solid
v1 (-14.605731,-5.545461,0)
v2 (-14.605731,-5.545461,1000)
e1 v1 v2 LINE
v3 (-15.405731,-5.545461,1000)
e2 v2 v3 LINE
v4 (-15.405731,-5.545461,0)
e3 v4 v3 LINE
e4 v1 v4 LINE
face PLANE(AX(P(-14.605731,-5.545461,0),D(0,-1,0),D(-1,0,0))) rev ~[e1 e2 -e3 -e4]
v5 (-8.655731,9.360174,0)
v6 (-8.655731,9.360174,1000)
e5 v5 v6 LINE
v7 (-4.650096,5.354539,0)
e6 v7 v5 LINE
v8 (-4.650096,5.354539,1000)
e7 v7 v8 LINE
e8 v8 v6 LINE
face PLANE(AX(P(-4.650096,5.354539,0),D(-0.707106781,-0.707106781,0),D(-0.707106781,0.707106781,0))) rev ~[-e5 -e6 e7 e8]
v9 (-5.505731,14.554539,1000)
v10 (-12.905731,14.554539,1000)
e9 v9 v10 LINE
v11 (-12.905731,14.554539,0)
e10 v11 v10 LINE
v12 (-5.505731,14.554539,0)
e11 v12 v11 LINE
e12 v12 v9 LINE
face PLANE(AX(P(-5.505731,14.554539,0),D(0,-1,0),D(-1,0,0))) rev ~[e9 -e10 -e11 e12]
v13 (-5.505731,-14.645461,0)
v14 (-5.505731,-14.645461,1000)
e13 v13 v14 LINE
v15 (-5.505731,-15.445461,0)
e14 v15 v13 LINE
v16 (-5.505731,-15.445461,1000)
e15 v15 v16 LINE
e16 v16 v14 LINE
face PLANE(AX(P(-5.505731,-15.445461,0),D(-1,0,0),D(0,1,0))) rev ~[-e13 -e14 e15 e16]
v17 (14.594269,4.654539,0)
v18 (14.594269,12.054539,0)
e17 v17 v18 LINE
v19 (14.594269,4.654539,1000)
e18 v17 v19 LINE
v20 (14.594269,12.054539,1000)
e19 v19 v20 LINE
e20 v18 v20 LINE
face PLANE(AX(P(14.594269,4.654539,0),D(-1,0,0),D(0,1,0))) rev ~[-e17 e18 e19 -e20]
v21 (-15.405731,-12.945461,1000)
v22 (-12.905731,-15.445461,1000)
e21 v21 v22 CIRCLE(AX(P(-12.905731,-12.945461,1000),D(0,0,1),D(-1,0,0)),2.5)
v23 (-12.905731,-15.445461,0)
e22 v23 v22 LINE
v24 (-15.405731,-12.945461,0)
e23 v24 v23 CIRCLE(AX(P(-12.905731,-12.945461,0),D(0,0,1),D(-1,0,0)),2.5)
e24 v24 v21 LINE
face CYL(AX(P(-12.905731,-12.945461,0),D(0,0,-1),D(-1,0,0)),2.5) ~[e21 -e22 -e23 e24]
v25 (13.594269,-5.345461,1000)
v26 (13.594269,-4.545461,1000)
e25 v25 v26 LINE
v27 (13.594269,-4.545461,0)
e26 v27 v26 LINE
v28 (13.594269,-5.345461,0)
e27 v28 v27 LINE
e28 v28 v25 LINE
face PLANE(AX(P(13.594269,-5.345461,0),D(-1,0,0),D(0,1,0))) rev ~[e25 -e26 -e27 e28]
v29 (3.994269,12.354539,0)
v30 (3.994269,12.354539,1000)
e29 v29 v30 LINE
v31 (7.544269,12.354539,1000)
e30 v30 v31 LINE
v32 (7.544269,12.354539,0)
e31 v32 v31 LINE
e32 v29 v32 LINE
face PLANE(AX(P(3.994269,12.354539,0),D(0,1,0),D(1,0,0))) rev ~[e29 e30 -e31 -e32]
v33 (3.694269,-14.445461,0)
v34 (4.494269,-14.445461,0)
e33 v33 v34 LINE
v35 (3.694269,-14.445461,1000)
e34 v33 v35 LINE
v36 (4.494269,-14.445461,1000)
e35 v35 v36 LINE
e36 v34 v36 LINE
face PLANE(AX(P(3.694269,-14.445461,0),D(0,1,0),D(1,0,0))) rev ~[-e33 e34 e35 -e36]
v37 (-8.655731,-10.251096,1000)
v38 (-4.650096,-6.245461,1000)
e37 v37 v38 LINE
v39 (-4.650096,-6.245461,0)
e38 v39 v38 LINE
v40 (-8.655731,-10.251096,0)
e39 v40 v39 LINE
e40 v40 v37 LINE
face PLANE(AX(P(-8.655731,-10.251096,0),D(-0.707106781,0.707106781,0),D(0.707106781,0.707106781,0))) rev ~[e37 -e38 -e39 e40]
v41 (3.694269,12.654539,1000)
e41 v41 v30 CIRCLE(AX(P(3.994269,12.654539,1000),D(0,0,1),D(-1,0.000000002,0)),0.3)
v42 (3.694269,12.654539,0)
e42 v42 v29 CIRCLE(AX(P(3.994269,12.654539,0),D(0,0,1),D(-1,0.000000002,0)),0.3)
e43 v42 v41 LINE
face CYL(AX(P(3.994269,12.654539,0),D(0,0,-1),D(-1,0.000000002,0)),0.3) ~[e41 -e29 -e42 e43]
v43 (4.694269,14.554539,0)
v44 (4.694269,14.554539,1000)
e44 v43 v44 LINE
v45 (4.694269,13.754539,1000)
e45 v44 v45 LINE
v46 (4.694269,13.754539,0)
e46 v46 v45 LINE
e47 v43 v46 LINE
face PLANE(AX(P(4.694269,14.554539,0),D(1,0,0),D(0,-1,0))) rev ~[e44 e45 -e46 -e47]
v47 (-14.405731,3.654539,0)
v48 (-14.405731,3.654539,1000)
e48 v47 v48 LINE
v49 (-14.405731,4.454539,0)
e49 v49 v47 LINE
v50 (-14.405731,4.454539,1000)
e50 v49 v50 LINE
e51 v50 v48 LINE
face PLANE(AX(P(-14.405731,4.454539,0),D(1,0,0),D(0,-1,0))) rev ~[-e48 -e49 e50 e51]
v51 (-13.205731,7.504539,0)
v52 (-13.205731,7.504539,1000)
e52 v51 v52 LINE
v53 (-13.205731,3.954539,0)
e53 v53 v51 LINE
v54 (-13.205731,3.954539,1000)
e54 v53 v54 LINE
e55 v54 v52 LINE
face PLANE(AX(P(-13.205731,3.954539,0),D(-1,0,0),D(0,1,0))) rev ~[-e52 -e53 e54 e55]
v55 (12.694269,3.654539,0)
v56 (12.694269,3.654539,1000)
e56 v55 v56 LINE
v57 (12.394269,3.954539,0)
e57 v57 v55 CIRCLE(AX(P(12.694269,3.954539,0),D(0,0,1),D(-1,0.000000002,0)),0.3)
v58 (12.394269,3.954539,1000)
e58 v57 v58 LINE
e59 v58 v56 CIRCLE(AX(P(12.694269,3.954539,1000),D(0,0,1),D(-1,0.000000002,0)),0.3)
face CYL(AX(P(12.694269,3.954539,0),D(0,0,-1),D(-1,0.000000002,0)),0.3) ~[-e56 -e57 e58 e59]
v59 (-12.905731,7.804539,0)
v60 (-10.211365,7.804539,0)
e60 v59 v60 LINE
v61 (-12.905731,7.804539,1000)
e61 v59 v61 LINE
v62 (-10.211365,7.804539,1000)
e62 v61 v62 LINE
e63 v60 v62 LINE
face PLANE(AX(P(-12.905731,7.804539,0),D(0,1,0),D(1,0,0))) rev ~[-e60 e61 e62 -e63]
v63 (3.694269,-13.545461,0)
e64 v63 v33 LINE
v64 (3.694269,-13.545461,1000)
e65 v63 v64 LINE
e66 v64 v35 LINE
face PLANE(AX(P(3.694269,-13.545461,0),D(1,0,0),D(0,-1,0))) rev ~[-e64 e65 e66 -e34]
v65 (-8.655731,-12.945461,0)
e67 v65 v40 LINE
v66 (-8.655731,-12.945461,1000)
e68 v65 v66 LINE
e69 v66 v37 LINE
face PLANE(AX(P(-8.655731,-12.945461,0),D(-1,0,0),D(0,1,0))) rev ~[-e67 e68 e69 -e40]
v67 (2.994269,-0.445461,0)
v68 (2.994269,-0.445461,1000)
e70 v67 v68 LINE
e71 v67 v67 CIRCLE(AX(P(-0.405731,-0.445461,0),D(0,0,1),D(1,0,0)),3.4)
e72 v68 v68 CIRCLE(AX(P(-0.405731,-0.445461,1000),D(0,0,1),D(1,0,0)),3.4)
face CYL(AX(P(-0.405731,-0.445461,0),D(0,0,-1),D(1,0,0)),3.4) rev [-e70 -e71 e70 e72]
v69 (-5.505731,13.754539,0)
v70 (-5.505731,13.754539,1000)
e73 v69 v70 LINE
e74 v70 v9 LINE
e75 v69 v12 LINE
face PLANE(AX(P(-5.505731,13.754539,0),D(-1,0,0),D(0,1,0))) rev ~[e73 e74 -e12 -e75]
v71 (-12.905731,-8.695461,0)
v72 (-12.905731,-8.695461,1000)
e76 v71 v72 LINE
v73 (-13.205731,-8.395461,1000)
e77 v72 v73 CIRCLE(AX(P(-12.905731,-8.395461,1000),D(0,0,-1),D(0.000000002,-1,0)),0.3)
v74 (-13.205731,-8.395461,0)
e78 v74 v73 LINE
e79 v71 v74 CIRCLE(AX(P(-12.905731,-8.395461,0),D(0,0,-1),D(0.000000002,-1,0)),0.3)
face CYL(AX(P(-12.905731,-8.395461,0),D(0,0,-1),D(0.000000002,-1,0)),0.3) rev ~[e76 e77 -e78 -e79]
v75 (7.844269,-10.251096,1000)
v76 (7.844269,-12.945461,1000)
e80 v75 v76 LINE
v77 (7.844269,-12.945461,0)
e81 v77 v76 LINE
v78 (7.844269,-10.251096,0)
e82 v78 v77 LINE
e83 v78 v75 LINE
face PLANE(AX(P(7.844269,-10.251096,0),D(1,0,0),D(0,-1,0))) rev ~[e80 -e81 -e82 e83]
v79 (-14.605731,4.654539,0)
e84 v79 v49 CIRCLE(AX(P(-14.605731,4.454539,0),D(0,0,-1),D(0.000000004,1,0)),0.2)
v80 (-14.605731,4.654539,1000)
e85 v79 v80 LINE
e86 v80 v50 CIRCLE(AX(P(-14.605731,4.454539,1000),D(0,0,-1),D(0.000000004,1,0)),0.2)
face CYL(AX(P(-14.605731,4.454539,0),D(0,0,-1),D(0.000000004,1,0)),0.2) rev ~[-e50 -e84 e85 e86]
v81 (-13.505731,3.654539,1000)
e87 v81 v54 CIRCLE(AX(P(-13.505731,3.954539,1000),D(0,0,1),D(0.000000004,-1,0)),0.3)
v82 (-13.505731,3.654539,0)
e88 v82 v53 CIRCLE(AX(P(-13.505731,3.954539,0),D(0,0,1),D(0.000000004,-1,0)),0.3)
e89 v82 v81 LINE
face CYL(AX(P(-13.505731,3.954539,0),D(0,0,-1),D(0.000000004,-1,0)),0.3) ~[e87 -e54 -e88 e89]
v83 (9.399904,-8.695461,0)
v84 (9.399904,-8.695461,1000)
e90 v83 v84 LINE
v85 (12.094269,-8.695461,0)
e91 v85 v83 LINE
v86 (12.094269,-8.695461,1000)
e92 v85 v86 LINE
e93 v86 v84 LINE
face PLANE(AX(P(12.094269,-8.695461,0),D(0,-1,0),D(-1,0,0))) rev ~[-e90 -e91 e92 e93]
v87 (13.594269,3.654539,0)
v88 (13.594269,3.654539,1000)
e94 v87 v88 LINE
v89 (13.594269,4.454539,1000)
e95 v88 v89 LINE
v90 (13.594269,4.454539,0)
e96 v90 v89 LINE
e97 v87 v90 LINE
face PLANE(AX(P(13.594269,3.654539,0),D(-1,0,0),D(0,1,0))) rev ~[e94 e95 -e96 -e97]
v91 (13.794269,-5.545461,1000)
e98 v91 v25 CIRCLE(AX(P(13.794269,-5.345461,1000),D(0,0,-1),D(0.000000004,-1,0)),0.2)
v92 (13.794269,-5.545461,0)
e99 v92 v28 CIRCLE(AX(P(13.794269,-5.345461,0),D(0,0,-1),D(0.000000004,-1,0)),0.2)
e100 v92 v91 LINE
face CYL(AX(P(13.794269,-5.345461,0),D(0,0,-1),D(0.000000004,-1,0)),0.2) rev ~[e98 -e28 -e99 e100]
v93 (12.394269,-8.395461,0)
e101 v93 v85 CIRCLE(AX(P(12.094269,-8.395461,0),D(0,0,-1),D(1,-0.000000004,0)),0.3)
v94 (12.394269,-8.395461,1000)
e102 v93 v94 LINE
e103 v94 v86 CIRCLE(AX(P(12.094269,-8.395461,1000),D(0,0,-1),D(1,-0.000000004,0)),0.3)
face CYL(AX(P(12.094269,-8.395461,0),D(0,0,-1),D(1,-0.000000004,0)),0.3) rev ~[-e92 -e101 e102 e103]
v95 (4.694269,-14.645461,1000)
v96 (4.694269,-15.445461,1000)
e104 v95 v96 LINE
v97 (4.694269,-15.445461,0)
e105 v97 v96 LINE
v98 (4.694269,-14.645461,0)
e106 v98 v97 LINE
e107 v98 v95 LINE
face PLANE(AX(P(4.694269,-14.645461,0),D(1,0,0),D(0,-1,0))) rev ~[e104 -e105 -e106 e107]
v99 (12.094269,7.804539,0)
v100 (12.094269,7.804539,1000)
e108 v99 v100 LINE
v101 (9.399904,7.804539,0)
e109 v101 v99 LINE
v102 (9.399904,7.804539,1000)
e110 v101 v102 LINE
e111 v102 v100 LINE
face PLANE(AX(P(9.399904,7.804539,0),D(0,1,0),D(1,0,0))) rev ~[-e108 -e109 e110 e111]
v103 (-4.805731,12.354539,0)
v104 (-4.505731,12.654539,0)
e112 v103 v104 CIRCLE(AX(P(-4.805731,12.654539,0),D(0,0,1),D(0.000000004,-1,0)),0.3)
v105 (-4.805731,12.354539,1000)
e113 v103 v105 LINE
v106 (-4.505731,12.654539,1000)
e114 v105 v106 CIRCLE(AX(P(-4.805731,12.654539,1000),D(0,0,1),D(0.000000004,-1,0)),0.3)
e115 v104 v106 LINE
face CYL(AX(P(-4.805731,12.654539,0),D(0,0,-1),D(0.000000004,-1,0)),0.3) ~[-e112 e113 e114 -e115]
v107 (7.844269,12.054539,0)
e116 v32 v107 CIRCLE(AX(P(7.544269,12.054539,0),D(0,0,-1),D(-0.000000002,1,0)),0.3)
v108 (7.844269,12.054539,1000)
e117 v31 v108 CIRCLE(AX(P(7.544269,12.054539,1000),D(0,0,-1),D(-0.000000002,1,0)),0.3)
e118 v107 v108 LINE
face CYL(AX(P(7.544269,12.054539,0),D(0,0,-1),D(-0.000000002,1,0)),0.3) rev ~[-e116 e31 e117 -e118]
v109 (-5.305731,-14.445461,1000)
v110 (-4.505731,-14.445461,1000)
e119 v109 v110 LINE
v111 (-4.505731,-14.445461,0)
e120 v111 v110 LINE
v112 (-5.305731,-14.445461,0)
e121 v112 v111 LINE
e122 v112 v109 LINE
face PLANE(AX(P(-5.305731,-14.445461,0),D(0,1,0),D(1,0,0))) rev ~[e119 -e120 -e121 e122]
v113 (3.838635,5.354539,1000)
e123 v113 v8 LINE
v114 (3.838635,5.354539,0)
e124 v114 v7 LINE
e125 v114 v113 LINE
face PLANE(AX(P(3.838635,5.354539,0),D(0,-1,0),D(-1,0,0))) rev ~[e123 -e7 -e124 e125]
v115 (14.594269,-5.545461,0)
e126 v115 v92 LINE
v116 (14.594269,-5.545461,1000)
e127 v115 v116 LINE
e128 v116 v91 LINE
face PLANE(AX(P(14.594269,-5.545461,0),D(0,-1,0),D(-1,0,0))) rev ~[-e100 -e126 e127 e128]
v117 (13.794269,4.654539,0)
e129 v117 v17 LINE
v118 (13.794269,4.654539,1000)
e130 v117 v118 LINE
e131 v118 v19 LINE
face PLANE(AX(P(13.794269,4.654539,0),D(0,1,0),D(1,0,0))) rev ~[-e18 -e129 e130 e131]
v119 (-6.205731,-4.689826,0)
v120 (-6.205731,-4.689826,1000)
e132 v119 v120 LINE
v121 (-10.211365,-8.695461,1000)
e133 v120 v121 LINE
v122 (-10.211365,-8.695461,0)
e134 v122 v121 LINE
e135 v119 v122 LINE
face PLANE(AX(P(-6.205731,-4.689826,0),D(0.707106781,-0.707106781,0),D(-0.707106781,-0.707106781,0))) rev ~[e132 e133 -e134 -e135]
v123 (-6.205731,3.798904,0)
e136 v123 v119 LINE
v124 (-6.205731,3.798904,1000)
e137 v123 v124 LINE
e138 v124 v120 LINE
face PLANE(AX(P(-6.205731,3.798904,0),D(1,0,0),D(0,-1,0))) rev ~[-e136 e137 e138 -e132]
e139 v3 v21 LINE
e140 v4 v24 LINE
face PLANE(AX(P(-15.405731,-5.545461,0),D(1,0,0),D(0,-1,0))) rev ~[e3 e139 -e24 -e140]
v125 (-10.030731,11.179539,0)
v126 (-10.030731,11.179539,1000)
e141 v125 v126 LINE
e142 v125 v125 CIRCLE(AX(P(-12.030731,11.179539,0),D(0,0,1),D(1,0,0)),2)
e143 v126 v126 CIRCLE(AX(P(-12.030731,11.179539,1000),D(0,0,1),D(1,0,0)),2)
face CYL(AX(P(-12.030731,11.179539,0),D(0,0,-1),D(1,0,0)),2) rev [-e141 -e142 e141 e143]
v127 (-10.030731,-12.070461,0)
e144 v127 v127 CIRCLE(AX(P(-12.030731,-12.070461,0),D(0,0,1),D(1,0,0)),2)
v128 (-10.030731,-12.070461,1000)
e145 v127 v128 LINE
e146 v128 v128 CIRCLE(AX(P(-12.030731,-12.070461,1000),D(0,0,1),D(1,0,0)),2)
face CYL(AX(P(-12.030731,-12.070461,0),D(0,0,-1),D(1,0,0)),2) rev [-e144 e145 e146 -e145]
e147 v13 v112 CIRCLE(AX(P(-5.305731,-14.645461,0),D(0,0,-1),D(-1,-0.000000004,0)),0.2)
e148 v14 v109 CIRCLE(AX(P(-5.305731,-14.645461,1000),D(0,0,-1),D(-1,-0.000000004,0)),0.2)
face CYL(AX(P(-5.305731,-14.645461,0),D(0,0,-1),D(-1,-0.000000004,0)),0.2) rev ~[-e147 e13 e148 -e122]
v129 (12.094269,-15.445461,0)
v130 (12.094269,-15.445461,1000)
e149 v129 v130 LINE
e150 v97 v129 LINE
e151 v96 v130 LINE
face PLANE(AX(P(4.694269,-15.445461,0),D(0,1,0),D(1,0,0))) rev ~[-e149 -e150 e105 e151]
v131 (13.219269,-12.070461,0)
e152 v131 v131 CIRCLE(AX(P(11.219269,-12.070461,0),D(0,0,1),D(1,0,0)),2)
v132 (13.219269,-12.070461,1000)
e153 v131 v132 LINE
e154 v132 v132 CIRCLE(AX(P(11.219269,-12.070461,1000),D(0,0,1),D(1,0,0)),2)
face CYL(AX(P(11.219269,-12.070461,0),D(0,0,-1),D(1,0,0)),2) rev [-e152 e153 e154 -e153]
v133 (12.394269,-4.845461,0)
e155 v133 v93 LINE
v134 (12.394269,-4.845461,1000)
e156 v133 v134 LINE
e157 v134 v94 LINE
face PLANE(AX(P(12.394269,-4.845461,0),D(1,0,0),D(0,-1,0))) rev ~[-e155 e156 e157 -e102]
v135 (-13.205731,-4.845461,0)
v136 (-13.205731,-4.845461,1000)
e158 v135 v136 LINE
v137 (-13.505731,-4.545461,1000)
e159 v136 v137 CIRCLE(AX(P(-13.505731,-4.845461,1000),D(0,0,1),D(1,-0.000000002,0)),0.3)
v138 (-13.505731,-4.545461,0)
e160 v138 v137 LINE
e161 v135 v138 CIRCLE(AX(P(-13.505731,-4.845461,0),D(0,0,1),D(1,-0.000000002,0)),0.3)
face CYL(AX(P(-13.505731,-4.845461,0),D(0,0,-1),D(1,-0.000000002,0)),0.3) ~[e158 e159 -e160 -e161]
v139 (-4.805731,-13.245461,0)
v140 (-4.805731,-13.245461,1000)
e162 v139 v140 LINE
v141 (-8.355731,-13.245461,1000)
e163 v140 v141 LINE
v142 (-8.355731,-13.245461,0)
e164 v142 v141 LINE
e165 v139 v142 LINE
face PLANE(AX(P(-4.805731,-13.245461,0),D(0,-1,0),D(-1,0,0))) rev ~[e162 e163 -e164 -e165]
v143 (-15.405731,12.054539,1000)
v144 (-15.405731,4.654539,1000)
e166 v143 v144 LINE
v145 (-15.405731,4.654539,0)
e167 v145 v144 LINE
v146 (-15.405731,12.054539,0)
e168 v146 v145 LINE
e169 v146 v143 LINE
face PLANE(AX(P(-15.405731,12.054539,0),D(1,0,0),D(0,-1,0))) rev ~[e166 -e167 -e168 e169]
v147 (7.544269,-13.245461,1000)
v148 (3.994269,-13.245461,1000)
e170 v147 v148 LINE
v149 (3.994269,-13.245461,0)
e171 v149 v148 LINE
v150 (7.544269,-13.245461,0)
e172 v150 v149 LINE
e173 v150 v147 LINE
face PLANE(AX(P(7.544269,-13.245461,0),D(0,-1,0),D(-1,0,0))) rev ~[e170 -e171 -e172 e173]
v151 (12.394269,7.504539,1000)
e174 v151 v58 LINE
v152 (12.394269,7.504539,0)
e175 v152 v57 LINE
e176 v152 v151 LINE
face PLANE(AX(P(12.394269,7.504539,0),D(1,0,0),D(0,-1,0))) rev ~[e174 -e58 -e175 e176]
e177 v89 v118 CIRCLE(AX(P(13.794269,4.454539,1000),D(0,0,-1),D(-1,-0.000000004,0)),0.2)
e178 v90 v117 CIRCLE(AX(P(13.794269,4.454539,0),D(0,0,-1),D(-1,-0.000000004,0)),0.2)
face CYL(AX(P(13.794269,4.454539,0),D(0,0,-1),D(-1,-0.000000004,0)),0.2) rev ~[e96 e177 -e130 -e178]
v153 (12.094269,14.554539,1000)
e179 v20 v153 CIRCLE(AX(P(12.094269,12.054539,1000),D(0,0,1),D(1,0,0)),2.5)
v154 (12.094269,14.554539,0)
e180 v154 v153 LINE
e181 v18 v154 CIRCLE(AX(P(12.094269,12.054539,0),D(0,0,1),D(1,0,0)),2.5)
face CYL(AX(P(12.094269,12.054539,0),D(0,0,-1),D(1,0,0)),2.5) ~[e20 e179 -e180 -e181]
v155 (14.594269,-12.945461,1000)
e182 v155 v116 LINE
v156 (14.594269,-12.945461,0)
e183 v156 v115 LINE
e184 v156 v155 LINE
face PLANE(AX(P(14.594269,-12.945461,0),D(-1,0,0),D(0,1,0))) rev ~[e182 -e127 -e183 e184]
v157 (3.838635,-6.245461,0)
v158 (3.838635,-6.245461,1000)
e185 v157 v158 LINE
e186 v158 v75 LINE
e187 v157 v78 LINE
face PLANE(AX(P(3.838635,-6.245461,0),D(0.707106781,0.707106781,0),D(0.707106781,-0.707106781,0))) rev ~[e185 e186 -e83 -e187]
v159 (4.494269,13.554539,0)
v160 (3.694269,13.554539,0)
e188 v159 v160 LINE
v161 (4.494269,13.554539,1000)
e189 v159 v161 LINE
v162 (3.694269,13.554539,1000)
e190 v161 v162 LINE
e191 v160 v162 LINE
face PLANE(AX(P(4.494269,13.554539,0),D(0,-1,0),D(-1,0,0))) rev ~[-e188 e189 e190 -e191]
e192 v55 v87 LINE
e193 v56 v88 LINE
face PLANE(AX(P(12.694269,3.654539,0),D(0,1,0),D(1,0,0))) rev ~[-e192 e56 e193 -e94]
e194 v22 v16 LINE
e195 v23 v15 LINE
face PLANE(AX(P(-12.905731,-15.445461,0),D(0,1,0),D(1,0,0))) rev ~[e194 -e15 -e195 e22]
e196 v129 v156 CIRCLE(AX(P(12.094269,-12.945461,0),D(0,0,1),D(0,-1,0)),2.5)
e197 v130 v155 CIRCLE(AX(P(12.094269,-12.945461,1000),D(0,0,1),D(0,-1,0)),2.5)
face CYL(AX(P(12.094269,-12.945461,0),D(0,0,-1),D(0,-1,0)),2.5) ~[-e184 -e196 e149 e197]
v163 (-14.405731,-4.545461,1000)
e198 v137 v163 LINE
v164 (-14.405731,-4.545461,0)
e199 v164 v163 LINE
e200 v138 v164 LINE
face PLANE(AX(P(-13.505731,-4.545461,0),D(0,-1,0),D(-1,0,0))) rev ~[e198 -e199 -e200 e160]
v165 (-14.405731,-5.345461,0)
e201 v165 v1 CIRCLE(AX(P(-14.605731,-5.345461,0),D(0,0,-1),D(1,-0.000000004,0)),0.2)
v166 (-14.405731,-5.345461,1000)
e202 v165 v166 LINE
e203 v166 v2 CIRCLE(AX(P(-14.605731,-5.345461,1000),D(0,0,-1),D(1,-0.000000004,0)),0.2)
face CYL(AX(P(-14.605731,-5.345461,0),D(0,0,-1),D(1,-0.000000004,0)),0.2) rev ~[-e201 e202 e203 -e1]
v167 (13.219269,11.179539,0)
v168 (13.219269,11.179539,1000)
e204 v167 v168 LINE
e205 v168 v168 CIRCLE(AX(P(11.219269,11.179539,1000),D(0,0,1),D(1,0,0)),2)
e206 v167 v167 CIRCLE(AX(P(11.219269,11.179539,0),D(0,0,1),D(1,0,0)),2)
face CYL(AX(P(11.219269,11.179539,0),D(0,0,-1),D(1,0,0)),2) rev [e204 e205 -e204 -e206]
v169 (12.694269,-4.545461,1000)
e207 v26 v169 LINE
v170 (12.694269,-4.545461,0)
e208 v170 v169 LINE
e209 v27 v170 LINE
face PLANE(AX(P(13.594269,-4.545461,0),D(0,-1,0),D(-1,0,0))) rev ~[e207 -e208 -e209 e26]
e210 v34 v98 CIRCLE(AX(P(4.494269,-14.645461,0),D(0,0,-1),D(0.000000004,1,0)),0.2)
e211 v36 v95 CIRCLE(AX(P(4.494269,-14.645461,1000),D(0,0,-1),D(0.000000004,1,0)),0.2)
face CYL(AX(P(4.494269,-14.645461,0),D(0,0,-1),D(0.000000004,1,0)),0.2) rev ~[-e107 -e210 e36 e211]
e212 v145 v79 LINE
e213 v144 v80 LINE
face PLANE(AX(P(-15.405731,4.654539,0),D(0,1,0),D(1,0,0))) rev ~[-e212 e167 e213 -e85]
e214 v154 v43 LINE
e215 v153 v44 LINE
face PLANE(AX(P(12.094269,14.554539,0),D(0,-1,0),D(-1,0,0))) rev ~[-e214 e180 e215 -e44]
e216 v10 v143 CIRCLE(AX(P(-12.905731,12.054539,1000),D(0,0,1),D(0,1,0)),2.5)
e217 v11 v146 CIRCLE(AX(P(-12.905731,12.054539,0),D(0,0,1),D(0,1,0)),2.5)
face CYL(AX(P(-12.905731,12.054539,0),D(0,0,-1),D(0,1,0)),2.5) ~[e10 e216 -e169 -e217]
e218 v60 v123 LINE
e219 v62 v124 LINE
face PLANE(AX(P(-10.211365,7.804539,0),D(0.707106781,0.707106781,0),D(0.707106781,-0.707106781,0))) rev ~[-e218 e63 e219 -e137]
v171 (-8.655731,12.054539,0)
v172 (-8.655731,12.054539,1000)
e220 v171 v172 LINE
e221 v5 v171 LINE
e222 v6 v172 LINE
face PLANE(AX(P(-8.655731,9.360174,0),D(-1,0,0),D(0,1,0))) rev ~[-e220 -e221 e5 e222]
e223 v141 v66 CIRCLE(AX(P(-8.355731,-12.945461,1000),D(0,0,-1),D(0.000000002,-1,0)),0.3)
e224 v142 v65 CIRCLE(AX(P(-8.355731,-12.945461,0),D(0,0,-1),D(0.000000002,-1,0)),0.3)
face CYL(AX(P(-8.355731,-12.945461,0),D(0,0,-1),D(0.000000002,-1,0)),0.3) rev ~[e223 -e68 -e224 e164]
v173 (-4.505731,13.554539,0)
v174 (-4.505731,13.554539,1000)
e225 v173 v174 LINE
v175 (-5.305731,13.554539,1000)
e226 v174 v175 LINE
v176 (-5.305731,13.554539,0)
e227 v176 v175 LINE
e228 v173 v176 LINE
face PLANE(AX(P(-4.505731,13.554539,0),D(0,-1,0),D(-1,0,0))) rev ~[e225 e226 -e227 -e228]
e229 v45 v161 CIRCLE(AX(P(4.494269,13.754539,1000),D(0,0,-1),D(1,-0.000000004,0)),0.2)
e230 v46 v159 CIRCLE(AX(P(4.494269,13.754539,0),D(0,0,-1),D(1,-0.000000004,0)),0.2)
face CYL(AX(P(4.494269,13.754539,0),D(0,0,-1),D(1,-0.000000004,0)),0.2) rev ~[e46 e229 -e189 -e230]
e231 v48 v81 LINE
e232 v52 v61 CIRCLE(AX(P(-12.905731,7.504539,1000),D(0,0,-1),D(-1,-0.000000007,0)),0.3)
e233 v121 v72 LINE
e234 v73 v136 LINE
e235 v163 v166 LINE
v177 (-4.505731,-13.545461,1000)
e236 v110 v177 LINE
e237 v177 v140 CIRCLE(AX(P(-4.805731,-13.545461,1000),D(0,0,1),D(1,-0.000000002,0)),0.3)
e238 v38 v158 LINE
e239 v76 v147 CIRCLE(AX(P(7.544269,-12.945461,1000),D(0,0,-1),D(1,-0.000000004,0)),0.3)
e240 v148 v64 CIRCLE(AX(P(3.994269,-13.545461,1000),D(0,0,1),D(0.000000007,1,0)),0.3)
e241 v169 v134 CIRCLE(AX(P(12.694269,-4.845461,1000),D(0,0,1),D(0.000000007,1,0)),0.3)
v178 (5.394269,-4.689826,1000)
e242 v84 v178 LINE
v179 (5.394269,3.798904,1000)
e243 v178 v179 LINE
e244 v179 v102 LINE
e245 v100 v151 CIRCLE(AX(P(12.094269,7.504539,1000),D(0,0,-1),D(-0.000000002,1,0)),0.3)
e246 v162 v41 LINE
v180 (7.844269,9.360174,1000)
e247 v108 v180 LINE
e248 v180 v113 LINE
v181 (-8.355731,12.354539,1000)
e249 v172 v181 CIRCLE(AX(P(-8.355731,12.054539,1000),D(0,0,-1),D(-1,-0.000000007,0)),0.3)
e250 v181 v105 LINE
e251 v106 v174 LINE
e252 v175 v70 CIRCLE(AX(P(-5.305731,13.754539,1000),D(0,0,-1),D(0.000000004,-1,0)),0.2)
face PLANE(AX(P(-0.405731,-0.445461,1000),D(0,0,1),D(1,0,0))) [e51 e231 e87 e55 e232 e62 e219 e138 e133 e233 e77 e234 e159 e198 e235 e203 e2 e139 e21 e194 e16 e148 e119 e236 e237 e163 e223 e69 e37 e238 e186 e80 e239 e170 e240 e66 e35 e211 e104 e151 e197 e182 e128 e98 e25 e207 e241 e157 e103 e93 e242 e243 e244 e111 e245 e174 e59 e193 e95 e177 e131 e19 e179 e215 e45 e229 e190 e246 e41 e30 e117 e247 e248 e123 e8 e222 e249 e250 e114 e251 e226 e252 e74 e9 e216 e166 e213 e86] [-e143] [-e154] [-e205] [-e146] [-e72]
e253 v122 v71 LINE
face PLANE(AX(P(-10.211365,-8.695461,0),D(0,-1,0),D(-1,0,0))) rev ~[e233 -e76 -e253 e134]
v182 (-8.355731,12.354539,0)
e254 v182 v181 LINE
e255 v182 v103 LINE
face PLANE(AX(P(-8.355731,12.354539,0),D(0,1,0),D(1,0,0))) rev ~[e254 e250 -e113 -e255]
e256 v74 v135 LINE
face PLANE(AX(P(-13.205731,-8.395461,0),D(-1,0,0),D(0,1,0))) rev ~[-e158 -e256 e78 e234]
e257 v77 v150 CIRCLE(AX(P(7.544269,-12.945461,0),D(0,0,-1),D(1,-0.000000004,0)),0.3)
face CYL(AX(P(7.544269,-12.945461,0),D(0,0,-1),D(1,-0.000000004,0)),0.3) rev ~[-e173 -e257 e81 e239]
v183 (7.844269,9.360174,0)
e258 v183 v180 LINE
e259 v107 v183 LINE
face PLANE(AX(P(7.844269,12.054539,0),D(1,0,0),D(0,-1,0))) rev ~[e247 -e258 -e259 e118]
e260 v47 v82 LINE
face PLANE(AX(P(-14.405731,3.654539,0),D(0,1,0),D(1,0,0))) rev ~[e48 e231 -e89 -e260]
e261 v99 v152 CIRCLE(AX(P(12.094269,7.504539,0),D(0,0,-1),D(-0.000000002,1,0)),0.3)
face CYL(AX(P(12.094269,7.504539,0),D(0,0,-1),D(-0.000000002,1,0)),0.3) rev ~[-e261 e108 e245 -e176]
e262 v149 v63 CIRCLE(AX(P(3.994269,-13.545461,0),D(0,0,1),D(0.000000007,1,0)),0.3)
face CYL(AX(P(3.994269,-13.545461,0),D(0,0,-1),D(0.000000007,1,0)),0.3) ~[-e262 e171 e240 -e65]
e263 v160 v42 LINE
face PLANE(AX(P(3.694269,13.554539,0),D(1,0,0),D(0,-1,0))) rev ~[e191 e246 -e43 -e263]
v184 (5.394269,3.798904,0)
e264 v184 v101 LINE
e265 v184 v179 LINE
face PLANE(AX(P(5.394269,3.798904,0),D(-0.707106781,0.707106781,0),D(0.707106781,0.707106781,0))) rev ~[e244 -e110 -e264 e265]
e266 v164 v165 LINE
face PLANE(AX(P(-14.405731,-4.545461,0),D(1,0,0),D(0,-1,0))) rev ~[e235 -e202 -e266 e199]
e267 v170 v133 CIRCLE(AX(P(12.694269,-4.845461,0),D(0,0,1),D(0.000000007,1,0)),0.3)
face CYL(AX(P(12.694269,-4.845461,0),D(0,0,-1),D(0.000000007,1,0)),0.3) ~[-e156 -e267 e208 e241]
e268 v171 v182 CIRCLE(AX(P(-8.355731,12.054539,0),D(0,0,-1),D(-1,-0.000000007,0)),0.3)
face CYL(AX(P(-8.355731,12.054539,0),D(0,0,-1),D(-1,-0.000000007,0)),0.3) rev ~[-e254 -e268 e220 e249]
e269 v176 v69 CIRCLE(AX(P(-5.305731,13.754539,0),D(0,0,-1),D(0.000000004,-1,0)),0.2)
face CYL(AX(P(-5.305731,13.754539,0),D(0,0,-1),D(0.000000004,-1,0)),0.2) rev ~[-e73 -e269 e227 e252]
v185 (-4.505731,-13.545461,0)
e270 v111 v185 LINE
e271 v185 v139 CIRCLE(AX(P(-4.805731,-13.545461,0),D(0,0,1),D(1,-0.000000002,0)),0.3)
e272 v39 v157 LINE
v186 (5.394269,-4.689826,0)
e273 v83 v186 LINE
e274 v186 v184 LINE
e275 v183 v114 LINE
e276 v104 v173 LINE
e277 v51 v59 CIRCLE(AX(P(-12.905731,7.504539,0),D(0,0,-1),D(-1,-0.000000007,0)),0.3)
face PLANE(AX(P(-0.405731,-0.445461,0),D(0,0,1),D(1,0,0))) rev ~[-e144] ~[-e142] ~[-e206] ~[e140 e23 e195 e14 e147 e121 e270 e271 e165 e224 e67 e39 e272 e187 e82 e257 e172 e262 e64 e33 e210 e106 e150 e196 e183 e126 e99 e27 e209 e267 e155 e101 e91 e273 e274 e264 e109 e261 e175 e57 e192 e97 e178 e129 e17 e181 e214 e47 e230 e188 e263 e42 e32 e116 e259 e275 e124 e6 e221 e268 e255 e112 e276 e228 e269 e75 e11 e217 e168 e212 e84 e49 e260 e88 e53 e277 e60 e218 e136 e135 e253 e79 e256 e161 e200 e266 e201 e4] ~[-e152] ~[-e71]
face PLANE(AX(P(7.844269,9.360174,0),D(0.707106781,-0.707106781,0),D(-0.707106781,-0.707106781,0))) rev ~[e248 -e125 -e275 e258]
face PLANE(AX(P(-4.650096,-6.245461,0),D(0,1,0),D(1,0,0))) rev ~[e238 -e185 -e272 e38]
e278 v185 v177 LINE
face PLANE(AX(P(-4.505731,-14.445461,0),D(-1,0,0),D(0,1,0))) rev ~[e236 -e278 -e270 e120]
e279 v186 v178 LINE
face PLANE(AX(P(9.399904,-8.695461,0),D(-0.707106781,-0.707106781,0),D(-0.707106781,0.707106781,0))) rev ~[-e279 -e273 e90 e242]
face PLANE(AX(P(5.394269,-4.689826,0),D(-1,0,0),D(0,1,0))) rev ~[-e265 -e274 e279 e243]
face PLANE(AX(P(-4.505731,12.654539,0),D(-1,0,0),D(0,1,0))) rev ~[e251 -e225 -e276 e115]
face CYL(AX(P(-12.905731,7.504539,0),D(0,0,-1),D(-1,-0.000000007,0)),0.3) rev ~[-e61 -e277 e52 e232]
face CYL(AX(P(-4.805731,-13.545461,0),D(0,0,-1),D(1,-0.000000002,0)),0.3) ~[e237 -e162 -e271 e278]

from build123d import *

# Parameters (mm, degrees)
SKETCH_1_R      = 3.4
SKETCH_1_R_2    = 2
EXTRUDE_1_DEPTH = 1000


with BuildPart() as part:
    # 草图1 → 凸台-拉伸1 (new body)
    with BuildSketch(Plane.XY):
        with BuildLine():
            Line((5.39426949, 3.798904284), (9.399904408, 7.804539202))
            Line((9.399904408, 7.804539202), (12.09426949, 7.804539202))
            ThreePointArc((12.09426949, 7.804539202), (12.306401524, 7.716671237), (12.39426949, 7.504539202))
            Line((12.39426949, 7.504539202), (12.39426949, 3.954539202))
            ThreePointArc((12.39426949, 3.954539202), (12.482137455, 3.742407168), (12.69426949, 3.654539202))
            Line((12.69426949, 3.654539202), (13.59426949, 3.654539202))
            Line((13.59426949, 3.654539202), (13.59426949, 4.454539202))
            ThreePointArc((13.59426949, 4.454539202), (13.652848133, 4.595960558), (13.79426949, 4.654539202))
            Line((13.79426949, 4.654539202), (14.59426949, 4.654539202))
            Line((14.59426949, 4.654539202), (14.59426949, 12.054539202))
            ThreePointArc((14.59426949, 12.054539202), (13.862036443, 13.822306155), (12.09426949, 14.554539202))
            Line((12.09426949, 14.554539202), (4.69426949, 14.554539202))
            Line((4.69426949, 14.554539202), (4.69426949, 13.754539202))
            ThreePointArc((4.69426949, 13.754539202), (4.635690846, 13.613117846), (4.49426949, 13.554539202))
            Line((4.49426949, 13.554539202), (3.69426949, 13.554539202))
            Line((3.69426949, 13.554539202), (3.69426949, 12.654539202))
            ThreePointArc((3.69426949, 12.654539202), (3.782137455, 12.442407168), (3.99426949, 12.354539202))
            Line((3.99426949, 12.354539202), (7.54426949, 12.354539202))
            ThreePointArc((7.54426949, 12.354539202), (7.756401524, 12.266671237), (7.84426949, 12.054539202))
            Line((7.84426949, 12.054539202), (7.84426949, 9.360174121))
            Line((7.84426949, 9.360174121), (3.838634571, 5.354539202))
            Line((3.838634571, 5.354539202), (-4.650095592, 5.354539202))
            Line((-4.650095592, 5.354539202), (-8.65573051, 9.360174121))
            Line((-8.65573051, 9.360174121), (-8.65573051, 12.054539202))
            ThreePointArc((-8.65573051, 12.054539202), (-8.567862545, 12.266671237), (-8.35573051, 12.354539202))
            Line((-8.35573051, 12.354539202), (-4.80573051, 12.354539202))
            ThreePointArc((-4.80573051, 12.354539202), (-4.593598476, 12.442407168), (-4.50573051, 12.654539202))
            Line((-4.50573051, 12.654539202), (-4.50573051, 13.554539202))
            Line((-4.50573051, 13.554539202), (-5.30573051, 13.554539202))
            ThreePointArc((-5.30573051, 13.554539202), (-5.447151867, 13.613117846), (-5.50573051, 13.754539202))
            Line((-5.50573051, 13.754539202), (-5.50573051, 14.554539202))
            Line((-5.50573051, 14.554539202), (-12.90573051, 14.554539202))
            ThreePointArc((-12.90573051, 14.554539202), (-14.673497463, 13.822306155), (-15.40573051, 12.054539202))
            Line((-15.40573051, 12.054539202), (-15.40573051, 4.654539202))
            Line((-15.40573051, 4.654539202), (-14.60573051, 4.654539202))
            ThreePointArc((-14.60573051, 4.654539202), (-14.464309154, 4.595960558), (-14.40573051, 4.454539202))
            Line((-14.40573051, 4.454539202), (-14.40573051, 3.654539202))
            Line((-14.40573051, 3.654539202), (-13.50573051, 3.654539202))
            ThreePointArc((-13.50573051, 3.654539202), (-13.293598476, 3.742407168), (-13.20573051, 3.954539202))
            Line((-13.20573051, 3.954539202), (-13.20573051, 7.504539202))
            ThreePointArc((-13.20573051, 7.504539202), (-13.117862545, 7.716671237), (-12.90573051, 7.804539202))
            Line((-12.90573051, 7.804539202), (-10.211365429, 7.804539202))
            Line((-10.211365429, 7.804539202), (-6.20573051, 3.798904284))
            Line((-6.20573051, 3.798904284), (-6.20573051, -4.689825879))
            Line((-6.20573051, -4.689825879), (-10.211365429, -8.695460798))
            Line((-10.211365429, -8.695460798), (-12.90573051, -8.695460798))
            ThreePointArc((-12.90573051, -8.695460798), (-13.117862545, -8.607592832), (-13.20573051, -8.395460798))
            Line((-13.20573051, -8.395460798), (-13.20573051, -4.845460798))
            ThreePointArc((-13.20573051, -4.845460798), (-13.293598476, -4.633328763), (-13.50573051, -4.545460798))
            Line((-13.50573051, -4.545460798), (-14.40573051, -4.545460798))
            Line((-14.40573051, -4.545460798), (-14.40573051, -5.345460798))
            ThreePointArc((-14.40573051, -5.345460798), (-14.464309154, -5.486882154), (-14.60573051, -5.545460798))
            Line((-14.60573051, -5.545460798), (-15.40573051, -5.545460798))
            Line((-15.40573051, -5.545460798), (-15.40573051, -12.945460798))
            ThreePointArc((-15.40573051, -12.945460798), (-14.673497463, -14.713227751), (-12.90573051, -15.445460798))
            Line((-12.90573051, -15.445460798), (-5.50573051, -15.445460798))
            Line((-5.50573051, -15.445460798), (-5.50573051, -14.645460798))
            ThreePointArc((-5.50573051, -14.645460798), (-5.447151867, -14.504039442), (-5.30573051, -14.445460798))
            Line((-5.30573051, -14.445460798), (-4.50573051, -14.445460798))
            Line((-4.50573051, -14.445460798), (-4.50573051, -13.545460798))
            ThreePointArc((-4.50573051, -13.545460798), (-4.593598476, -13.333328763), (-4.80573051, -13.245460798))
            Line((-4.80573051, -13.245460798), (-8.35573051, -13.245460798))
            ThreePointArc((-8.35573051, -13.245460798), (-8.567862545, -13.157592832), (-8.65573051, -12.945460798))
            Line((-8.65573051, -12.945460798), (-8.65573051, -10.251095716))
            Line((-8.65573051, -10.251095716), (-4.650095592, -6.245460798))
            Line((-4.650095592, -6.245460798), (3.838634571, -6.245460798))
            Line((3.838634571, -6.245460798), (7.84426949, -10.251095716))
            Line((7.84426949, -10.251095716), (7.84426949, -12.945460798))
            ThreePointArc((7.84426949, -12.945460798), (7.756401524, -13.157592832), (7.54426949, -13.245460798))
            Line((7.54426949, -13.245460798), (3.99426949, -13.245460798))
            ThreePointArc((3.99426949, -13.245460798), (3.782137455, -13.333328763), (3.69426949, -13.545460798))
            Line((3.69426949, -13.545460798), (3.69426949, -14.445460798))
            Line((3.69426949, -14.445460798), (4.49426949, -14.445460798))
            ThreePointArc((4.49426949, -14.445460798), (4.635690846, -14.504039442), (4.69426949, -14.645460798))
            Line((4.69426949, -14.645460798), (4.69426949, -15.445460798))
            Line((4.69426949, -15.445460798), (12.09426949, -15.445460798))
            ThreePointArc((12.09426949, -15.445460798), (13.862036443, -14.713227751), (14.59426949, -12.945460798))
            Line((14.59426949, -12.945460798), (14.59426949, -5.545460798))
            Line((14.59426949, -5.545460798), (13.79426949, -5.545460798))
            ThreePointArc((13.79426949, -5.545460798), (13.652848133, -5.486882154), (13.59426949, -5.345460798))
            Line((13.59426949, -5.345460798), (13.59426949, -4.545460798))
            Line((13.59426949, -4.545460798), (12.69426949, -4.545460798))
            ThreePointArc((12.69426949, -4.545460798), (12.482137455, -4.633328763), (12.39426949, -4.845460798))
            Line((12.39426949, -4.845460798), (12.39426949, -8.395460798))
            ThreePointArc((12.39426949, -8.395460798), (12.306401524, -8.607592832), (12.09426949, -8.695460798))
            Line((12.09426949, -8.695460798), (9.399904408, -8.695460798))
            Line((9.399904408, -8.695460798), (5.39426949, -4.689825879))
            Line((5.39426949, -4.689825879), (5.39426949, 3.798904284))
        make_face()
        with Locations((-0.40573051, -0.445460798)):
            Circle(SKETCH_1_R, mode=Mode.SUBTRACT)
        with Locations((-12.03073051, 11.179539202)):
            Circle(SKETCH_1_R_2, mode=Mode.SUBTRACT)
        with Locations((11.21926949, 11.179539202)):
            Circle(SKETCH_1_R_2, mode=Mode.SUBTRACT)
        with Locations((-12.03073051, -12.070460798)):
            Circle(SKETCH_1_R_2, mode=Mode.SUBTRACT)
        with Locations((11.21926949, -12.070460798)):
            Circle(SKETCH_1_R_2, mode=Mode.SUBTRACT)
    extrude(amount=EXTRUDE_1_DEPTH)


solid = part.part
